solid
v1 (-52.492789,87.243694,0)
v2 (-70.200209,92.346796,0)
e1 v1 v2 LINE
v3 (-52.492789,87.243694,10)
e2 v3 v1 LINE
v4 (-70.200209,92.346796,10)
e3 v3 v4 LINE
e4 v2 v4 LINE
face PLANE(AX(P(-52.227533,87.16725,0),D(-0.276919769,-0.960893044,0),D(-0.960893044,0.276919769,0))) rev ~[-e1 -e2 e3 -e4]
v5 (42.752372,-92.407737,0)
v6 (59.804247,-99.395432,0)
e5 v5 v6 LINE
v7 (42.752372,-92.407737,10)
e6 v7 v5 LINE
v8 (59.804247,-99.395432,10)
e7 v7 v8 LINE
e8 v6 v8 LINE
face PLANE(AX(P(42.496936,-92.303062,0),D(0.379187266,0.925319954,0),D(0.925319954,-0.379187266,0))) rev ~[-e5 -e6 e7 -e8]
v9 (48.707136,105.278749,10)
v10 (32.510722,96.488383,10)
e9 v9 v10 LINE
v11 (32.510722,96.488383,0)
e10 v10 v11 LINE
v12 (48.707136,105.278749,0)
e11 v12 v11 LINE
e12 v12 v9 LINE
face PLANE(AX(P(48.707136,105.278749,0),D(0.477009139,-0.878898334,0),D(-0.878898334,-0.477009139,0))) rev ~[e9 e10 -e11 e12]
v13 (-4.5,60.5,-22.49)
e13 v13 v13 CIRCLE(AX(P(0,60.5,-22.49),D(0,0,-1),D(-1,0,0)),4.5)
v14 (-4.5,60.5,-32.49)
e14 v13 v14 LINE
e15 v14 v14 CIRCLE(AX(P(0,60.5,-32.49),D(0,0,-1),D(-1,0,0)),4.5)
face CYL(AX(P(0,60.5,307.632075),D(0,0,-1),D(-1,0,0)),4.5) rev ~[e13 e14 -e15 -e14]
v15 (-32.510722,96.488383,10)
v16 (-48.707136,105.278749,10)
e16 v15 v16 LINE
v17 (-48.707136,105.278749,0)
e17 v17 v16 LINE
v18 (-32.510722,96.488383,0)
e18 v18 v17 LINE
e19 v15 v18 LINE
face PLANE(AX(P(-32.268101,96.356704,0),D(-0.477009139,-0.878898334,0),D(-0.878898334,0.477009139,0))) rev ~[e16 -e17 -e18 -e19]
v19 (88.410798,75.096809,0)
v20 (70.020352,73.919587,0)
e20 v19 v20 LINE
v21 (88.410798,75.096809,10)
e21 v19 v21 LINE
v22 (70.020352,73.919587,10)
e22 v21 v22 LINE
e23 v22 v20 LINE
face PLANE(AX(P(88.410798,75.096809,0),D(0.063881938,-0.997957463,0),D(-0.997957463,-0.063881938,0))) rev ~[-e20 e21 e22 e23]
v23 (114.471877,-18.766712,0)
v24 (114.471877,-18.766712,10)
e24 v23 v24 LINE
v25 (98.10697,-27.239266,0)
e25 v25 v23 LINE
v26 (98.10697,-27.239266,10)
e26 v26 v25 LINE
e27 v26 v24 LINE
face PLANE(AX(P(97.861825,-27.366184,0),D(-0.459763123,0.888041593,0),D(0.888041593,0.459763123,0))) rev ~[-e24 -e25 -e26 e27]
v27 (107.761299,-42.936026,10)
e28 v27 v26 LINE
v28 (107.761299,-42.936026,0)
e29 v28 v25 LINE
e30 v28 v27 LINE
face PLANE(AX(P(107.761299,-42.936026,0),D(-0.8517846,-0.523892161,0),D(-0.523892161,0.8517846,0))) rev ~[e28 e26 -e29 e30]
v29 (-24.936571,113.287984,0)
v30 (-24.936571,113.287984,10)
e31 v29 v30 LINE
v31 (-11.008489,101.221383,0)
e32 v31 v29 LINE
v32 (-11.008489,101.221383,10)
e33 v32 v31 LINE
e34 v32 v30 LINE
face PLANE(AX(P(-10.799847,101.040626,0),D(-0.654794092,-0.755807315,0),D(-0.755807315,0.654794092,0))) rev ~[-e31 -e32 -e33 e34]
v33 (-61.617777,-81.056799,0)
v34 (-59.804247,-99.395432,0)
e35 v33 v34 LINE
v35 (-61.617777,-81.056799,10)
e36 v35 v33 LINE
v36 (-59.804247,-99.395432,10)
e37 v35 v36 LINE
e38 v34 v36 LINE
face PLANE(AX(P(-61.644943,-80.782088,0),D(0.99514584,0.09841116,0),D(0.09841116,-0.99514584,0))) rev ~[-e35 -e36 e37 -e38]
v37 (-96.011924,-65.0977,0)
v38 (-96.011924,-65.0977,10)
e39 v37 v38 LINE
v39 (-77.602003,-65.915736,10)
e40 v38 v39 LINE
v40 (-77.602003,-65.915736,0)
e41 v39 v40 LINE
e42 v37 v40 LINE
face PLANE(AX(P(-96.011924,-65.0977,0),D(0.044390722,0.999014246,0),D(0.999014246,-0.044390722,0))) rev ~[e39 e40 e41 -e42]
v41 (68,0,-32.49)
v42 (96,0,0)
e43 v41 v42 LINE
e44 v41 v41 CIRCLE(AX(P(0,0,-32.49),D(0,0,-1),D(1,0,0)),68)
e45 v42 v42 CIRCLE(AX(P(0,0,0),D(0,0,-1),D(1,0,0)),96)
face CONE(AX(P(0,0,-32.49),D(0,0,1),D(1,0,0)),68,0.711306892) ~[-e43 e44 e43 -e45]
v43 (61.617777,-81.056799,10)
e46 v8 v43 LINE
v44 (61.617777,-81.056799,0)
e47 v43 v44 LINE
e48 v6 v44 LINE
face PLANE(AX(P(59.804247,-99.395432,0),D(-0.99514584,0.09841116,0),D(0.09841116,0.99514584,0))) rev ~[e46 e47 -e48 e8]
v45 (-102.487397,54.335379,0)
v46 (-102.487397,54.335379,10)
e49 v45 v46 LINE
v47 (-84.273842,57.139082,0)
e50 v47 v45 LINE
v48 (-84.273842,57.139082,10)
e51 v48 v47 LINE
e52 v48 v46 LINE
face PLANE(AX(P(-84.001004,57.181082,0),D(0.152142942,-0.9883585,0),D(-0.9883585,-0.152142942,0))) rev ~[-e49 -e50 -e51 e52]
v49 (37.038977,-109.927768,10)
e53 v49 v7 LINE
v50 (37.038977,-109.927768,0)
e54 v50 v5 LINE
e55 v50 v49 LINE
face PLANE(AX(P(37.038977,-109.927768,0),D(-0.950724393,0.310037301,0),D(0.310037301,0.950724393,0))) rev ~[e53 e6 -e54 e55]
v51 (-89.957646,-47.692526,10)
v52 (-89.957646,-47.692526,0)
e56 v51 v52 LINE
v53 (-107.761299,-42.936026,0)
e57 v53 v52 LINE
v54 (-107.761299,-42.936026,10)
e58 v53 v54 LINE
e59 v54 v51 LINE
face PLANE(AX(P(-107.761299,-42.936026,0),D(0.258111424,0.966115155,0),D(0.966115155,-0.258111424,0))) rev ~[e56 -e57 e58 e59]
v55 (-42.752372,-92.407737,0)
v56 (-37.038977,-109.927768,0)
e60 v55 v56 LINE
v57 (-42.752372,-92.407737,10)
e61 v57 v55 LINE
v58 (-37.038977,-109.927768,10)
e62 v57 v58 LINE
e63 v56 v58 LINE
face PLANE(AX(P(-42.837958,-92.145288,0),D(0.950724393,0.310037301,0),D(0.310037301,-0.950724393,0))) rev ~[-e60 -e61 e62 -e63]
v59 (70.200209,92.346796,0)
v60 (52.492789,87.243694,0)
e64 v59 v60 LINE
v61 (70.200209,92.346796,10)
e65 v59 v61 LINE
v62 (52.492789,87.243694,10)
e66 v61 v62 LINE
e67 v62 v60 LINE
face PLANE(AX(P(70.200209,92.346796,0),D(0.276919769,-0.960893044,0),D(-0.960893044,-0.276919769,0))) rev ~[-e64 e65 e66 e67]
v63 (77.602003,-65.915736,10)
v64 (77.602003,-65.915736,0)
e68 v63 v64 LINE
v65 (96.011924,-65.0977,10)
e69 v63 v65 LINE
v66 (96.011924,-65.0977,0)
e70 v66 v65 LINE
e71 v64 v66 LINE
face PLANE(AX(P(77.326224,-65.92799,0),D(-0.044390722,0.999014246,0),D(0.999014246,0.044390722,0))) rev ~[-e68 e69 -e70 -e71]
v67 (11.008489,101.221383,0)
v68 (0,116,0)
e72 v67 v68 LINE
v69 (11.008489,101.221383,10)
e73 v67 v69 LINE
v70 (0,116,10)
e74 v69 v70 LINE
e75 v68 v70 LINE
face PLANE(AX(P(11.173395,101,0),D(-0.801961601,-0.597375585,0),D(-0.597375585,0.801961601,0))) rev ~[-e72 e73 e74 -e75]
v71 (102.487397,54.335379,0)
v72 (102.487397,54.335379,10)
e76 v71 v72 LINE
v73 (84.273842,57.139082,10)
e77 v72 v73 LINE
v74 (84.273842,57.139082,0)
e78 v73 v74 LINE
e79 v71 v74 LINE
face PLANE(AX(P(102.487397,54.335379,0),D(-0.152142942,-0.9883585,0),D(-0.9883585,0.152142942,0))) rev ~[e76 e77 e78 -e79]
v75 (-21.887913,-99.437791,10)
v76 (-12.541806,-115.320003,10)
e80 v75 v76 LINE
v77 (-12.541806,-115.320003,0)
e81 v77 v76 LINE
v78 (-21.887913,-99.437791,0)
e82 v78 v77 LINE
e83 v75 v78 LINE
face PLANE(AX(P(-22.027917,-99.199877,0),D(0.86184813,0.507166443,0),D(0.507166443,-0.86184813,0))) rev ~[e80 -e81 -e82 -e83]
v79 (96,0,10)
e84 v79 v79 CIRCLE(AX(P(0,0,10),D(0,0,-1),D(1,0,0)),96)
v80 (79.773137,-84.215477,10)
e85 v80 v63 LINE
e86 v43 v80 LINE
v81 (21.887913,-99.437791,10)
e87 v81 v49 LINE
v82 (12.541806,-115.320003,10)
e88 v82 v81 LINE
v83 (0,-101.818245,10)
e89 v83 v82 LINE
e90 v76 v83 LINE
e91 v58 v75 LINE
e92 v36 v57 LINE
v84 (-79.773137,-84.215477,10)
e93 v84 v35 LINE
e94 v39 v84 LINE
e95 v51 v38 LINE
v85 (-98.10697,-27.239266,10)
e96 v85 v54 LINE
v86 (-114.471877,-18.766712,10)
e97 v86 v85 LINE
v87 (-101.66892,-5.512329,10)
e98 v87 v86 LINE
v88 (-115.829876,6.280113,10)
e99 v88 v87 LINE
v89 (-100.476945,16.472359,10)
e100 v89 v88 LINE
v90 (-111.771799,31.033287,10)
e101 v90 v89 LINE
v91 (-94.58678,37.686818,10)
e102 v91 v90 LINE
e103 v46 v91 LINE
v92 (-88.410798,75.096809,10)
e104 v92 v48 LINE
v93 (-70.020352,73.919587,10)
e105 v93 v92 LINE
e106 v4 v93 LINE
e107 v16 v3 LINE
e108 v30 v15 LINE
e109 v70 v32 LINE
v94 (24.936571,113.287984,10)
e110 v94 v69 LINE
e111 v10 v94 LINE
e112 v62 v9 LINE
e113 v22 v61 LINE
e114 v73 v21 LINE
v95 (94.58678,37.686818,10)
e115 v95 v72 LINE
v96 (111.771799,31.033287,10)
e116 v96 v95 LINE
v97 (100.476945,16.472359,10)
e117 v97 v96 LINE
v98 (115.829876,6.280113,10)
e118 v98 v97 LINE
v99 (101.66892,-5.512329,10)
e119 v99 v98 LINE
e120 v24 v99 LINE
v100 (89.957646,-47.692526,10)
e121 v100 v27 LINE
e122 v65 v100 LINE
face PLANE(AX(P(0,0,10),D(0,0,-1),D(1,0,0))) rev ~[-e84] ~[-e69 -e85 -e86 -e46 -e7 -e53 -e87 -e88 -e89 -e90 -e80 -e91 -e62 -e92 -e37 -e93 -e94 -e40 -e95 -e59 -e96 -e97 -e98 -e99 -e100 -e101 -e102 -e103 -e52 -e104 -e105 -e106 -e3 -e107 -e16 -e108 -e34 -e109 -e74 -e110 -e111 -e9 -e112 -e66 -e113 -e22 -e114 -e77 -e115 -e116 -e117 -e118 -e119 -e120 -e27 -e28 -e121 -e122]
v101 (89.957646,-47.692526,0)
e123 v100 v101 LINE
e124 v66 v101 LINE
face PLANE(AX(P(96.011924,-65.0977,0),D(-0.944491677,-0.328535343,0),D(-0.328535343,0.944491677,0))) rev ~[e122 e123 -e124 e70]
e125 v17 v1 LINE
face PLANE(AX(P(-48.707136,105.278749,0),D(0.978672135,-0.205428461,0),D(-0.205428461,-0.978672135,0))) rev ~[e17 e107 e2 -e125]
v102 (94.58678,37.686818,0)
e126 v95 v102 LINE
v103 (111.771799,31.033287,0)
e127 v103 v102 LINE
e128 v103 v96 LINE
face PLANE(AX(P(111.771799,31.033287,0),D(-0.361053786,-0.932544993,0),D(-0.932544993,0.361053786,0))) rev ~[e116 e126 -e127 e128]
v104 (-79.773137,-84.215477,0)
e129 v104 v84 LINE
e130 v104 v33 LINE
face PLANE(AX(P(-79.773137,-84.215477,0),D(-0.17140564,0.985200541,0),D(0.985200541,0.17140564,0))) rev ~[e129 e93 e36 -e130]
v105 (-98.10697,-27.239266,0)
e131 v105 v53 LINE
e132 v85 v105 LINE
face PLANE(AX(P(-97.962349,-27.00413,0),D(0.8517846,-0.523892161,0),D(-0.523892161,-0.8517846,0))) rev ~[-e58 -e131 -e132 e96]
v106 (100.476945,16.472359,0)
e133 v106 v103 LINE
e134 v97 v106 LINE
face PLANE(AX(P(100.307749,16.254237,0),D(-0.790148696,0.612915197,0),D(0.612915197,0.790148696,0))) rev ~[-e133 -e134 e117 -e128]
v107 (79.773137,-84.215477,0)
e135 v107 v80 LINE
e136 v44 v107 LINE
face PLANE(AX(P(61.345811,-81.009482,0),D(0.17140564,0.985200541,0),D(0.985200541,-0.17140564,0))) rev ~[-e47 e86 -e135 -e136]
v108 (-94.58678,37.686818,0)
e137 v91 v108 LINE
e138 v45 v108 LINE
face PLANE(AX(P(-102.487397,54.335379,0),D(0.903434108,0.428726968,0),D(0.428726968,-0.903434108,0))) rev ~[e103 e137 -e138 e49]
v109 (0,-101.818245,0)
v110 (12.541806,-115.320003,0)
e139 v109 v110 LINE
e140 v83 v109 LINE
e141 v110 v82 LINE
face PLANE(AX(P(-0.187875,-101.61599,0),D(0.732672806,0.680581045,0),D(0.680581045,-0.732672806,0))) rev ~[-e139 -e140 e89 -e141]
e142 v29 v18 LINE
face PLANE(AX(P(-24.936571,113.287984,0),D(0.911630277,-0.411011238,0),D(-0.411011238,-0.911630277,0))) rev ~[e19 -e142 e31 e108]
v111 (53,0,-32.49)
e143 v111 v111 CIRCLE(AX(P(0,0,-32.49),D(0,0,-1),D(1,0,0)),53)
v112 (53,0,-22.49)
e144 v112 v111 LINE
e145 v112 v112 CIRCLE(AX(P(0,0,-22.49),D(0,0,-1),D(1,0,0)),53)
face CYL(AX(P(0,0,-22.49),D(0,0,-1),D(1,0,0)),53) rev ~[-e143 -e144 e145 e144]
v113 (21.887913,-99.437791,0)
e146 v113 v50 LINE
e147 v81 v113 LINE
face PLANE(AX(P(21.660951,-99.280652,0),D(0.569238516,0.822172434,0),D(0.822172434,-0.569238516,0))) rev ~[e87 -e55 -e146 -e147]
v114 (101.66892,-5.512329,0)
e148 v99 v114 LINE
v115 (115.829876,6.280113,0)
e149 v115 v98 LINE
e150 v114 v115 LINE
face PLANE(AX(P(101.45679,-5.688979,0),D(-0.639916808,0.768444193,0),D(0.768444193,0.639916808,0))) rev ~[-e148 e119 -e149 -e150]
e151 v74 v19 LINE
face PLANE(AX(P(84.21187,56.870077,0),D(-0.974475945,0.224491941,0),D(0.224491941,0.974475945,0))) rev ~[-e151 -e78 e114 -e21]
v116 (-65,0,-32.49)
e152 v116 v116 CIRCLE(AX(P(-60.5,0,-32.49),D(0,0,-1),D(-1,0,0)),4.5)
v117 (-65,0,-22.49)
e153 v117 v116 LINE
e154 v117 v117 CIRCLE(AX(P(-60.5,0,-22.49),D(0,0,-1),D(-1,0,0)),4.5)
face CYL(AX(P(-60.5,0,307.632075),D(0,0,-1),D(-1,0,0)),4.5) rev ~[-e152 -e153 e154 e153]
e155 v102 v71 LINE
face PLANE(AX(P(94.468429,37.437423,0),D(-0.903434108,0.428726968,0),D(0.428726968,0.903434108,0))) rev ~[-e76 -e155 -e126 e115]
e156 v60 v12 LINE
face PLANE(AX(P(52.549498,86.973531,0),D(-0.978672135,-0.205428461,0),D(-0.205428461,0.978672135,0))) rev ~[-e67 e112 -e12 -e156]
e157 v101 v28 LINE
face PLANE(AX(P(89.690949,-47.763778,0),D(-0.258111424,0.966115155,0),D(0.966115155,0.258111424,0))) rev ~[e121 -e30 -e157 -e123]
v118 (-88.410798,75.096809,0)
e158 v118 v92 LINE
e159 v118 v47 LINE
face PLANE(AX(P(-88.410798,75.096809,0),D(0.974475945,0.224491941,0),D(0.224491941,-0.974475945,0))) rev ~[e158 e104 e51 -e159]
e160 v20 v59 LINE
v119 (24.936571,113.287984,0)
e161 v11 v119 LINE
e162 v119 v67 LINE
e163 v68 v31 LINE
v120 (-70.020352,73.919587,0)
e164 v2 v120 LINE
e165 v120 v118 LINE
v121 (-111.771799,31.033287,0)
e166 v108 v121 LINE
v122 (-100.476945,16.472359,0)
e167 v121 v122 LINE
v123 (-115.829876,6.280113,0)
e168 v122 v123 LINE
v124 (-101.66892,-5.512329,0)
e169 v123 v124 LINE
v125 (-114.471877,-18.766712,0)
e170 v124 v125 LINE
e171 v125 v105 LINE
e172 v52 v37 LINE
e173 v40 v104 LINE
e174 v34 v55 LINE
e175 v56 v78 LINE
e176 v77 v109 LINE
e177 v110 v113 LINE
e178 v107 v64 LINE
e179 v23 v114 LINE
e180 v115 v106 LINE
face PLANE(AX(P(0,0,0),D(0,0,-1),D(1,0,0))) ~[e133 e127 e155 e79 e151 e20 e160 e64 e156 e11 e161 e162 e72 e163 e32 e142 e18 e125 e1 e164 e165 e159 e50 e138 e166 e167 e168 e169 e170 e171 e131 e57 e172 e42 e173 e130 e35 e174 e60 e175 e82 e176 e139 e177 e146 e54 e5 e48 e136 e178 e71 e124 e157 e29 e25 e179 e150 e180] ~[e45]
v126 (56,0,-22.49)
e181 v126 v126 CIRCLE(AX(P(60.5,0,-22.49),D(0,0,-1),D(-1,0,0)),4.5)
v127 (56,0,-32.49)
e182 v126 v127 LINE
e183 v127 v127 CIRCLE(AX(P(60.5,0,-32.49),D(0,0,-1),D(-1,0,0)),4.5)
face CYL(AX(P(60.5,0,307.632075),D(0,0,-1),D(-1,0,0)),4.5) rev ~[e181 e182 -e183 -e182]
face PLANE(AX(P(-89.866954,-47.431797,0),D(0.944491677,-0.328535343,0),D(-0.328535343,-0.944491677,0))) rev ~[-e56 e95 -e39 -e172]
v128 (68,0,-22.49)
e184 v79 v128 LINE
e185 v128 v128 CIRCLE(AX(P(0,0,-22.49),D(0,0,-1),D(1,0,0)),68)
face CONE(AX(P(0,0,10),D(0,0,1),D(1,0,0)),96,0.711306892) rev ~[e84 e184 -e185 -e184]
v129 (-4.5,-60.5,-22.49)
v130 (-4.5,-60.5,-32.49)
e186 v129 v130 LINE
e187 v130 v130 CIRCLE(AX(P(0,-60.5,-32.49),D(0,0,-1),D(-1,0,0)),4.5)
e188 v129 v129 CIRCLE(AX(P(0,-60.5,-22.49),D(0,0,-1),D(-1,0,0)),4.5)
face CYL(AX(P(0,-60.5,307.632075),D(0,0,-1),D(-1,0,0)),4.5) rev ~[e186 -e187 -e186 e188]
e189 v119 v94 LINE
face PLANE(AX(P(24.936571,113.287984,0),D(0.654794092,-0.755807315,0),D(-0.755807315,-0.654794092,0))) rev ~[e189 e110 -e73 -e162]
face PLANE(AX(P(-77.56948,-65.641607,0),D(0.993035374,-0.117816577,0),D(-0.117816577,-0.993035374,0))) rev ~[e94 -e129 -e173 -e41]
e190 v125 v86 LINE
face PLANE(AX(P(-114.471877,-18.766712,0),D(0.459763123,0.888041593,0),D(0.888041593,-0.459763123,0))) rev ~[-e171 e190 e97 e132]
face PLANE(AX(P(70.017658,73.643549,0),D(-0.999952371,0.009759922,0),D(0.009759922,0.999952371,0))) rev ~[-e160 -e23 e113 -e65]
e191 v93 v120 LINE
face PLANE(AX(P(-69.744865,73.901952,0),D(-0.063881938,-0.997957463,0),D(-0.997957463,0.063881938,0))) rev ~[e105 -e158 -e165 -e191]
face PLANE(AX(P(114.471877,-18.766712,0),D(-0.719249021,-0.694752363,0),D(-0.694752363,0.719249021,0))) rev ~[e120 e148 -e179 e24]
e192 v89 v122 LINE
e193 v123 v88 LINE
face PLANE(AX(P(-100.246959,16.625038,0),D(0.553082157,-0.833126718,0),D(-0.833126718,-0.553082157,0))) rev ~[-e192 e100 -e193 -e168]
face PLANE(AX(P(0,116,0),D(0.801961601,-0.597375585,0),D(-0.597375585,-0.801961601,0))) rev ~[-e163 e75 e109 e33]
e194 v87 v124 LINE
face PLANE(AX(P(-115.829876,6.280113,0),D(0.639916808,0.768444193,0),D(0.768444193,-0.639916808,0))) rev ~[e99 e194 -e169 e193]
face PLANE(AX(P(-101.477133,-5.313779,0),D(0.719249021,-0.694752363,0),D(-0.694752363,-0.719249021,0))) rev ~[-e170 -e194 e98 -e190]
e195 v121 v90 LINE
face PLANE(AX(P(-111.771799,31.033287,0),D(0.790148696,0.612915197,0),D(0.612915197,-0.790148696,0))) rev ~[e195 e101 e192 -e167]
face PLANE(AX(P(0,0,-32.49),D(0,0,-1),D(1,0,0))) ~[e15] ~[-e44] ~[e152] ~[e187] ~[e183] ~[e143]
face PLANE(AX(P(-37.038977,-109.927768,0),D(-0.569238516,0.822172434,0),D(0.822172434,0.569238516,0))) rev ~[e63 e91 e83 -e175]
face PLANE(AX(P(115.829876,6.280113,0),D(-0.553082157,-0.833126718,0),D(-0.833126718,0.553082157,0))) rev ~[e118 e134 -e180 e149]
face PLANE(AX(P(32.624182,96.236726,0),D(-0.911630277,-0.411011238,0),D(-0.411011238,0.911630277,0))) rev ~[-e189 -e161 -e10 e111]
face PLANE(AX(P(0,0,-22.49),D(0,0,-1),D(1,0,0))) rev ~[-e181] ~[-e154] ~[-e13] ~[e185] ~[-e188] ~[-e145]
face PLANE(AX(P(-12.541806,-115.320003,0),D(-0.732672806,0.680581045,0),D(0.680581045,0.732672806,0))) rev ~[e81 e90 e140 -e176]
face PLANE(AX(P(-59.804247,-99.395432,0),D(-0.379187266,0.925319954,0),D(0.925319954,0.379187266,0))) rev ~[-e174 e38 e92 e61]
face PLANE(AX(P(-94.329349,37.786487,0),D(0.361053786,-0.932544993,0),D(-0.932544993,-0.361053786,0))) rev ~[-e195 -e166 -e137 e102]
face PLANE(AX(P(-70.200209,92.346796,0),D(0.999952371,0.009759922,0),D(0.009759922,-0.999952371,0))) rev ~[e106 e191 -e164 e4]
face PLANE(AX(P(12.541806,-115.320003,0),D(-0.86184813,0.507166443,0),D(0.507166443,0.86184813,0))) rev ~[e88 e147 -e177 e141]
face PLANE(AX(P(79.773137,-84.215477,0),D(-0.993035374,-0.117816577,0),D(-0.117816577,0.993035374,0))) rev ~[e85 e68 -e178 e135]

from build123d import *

# Parameters (mm, degrees)
BOSS_EXTRU_1_DEPTH           = 10
R_P_TITION_CIRCULAIRE1_COUNT = 29
ESQUISSE3_R                  = 100
ENL_V_MAT_EXTRU_1_DEPTH      = 165.2332493
D_GAGEMENT_M81_D             = 9


with BuildPart() as part:
    # Esquisse1 → Boss.-Extru.1 (new body)
    with BuildSketch(Plane.XY):
        Polygon((-11.173395042, 101), (0, 0), (11.173395042, 101), (0, 116), align=None)
    extrude(amount=BOSS_EXTRU_1_DEPTH)


with BuildPart() as r_p_tition_circulaire1_1:
    # Répétition circulaire1: pattern copy
    add(part.part.rotate(Axis((0, 0, 0), (0, 0, 1)), 1 * 360 / R_P_TITION_CIRCULAIRE1_COUNT))


with BuildPart() as r_p_tition_circulaire1_2:
    # Répétition circulaire1: pattern copy
    add(part.part.rotate(Axis((0, 0, 0), (0, 0, 1)), 2 * 360 / R_P_TITION_CIRCULAIRE1_COUNT))


with BuildPart() as r_p_tition_circulaire1_3:
    # Répétition circulaire1: pattern copy
    add(part.part.rotate(Axis((0, 0, 0), (0, 0, 1)), 3 * 360 / R_P_TITION_CIRCULAIRE1_COUNT))


with BuildPart() as r_p_tition_circulaire1_4:
    # Répétition circulaire1: pattern copy
    add(part.part.rotate(Axis((0, 0, 0), (0, 0, 1)), 4 * 360 / R_P_TITION_CIRCULAIRE1_COUNT))


with BuildPart() as r_p_tition_circulaire1_5:
    # Répétition circulaire1: pattern copy
    add(part.part.rotate(Axis((0, 0, 0), (0, 0, 1)), 5 * 360 / R_P_TITION_CIRCULAIRE1_COUNT))


with BuildPart() as r_p_tition_circulaire1_6:
    # Répétition circulaire1: pattern copy
    add(part.part.rotate(Axis((0, 0, 0), (0, 0, 1)), 6 * 360 / R_P_TITION_CIRCULAIRE1_COUNT))


with BuildPart() as r_p_tition_circulaire1_7:
    # Répétition circulaire1: pattern copy
    add(part.part.rotate(Axis((0, 0, 0), (0, 0, 1)), 7 * 360 / R_P_TITION_CIRCULAIRE1_COUNT))


with BuildPart() as r_p_tition_circulaire1_8:
    # Répétition circulaire1: pattern copy
    add(part.part.rotate(Axis((0, 0, 0), (0, 0, 1)), 8 * 360 / R_P_TITION_CIRCULAIRE1_COUNT))


with BuildPart() as r_p_tition_circulaire1_9:
    # Répétition circulaire1: pattern copy
    add(part.part.rotate(Axis((0, 0, 0), (0, 0, 1)), 9 * 360 / R_P_TITION_CIRCULAIRE1_COUNT))


with BuildPart() as r_p_tition_circulaire1_10:
    # Répétition circulaire1: pattern copy
    add(part.part.rotate(Axis((0, 0, 0), (0, 0, 1)), 10 * 360 / R_P_TITION_CIRCULAIRE1_COUNT))


with BuildPart() as r_p_tition_circulaire1_11:
    # Répétition circulaire1: pattern copy
    add(part.part.rotate(Axis((0, 0, 0), (0, 0, 1)), 11 * 360 / R_P_TITION_CIRCULAIRE1_COUNT))


with BuildPart() as r_p_tition_circulaire1_12:
    # Répétition circulaire1: pattern copy
    add(part.part.rotate(Axis((0, 0, 0), (0, 0, 1)), 12 * 360 / R_P_TITION_CIRCULAIRE1_COUNT))


with BuildPart() as r_p_tition_circulaire1_13:
    # Répétition circulaire1: pattern copy
    add(part.part.rotate(Axis((0, 0, 0), (0, 0, 1)), 13 * 360 / R_P_TITION_CIRCULAIRE1_COUNT))


with BuildPart() as r_p_tition_circulaire1_14:
    # Répétition circulaire1: pattern copy
    add(part.part.rotate(Axis((0, 0, 0), (0, 0, 1)), 14 * 360 / R_P_TITION_CIRCULAIRE1_COUNT))


with BuildPart() as r_p_tition_circulaire1_15:
    # Répétition circulaire1: pattern copy
    add(part.part.rotate(Axis((0, 0, 0), (0, 0, 1)), 15 * 360 / R_P_TITION_CIRCULAIRE1_COUNT))


with BuildPart() as r_p_tition_circulaire1_16:
    # Répétition circulaire1: pattern copy
    add(part.part.rotate(Axis((0, 0, 0), (0, 0, 1)), 16 * 360 / R_P_TITION_CIRCULAIRE1_COUNT))


with BuildPart() as r_p_tition_circulaire1_17:
    # Répétition circulaire1: pattern copy
    add(part.part.rotate(Axis((0, 0, 0), (0, 0, 1)), 17 * 360 / R_P_TITION_CIRCULAIRE1_COUNT))


with BuildPart() as r_p_tition_circulaire1_18:
    # Répétition circulaire1: pattern copy
    add(part.part.rotate(Axis((0, 0, 0), (0, 0, 1)), 18 * 360 / R_P_TITION_CIRCULAIRE1_COUNT))


with BuildPart() as r_p_tition_circulaire1_19:
    # Répétition circulaire1: pattern copy
    add(part.part.rotate(Axis((0, 0, 0), (0, 0, 1)), 19 * 360 / R_P_TITION_CIRCULAIRE1_COUNT))


with BuildPart() as r_p_tition_circulaire1_20:
    # Répétition circulaire1: pattern copy
    add(part.part.rotate(Axis((0, 0, 0), (0, 0, 1)), 20 * 360 / R_P_TITION_CIRCULAIRE1_COUNT))


with BuildPart() as r_p_tition_circulaire1_21:
    # Répétition circulaire1: pattern copy
    add(part.part.rotate(Axis((0, 0, 0), (0, 0, 1)), 21 * 360 / R_P_TITION_CIRCULAIRE1_COUNT))


with BuildPart() as r_p_tition_circulaire1_22:
    # Répétition circulaire1: pattern copy
    add(part.part.rotate(Axis((0, 0, 0), (0, 0, 1)), 22 * 360 / R_P_TITION_CIRCULAIRE1_COUNT))


with BuildPart() as r_p_tition_circulaire1_23:
    # Répétition circulaire1: pattern copy
    add(part.part.rotate(Axis((0, 0, 0), (0, 0, 1)), 23 * 360 / R_P_TITION_CIRCULAIRE1_COUNT))


with BuildPart() as r_p_tition_circulaire1_24:
    # Répétition circulaire1: pattern copy
    add(part.part.rotate(Axis((0, 0, 0), (0, 0, 1)), 24 * 360 / R_P_TITION_CIRCULAIRE1_COUNT))


with BuildPart() as r_p_tition_circulaire1_25:
    # Répétition circulaire1: pattern copy
    add(part.part.rotate(Axis((0, 0, 0), (0, 0, 1)), 25 * 360 / R_P_TITION_CIRCULAIRE1_COUNT))


with BuildPart() as r_p_tition_circulaire1_26:
    # Répétition circulaire1: pattern copy
    add(part.part.rotate(Axis((0, 0, 0), (0, 0, 1)), 26 * 360 / R_P_TITION_CIRCULAIRE1_COUNT))


with BuildPart() as r_p_tition_circulaire1_27:
    # Répétition circulaire1: pattern copy
    add(part.part.rotate(Axis((0, 0, 0), (0, 0, 1)), 27 * 360 / R_P_TITION_CIRCULAIRE1_COUNT))


with BuildPart() as r_p_tition_circulaire1_28:
    # Répétition circulaire1: pattern copy
    add(part.part.rotate(Axis((0, 0, 0), (0, 0, 1)), 28 * 360 / R_P_TITION_CIRCULAIRE1_COUNT))


with BuildPart() as enl_v_mat_extru_1_tool:
    # Esquisse3 → Enlèv. mat.-Extru.1 (new, through all)
    with BuildSketch(Plane.XY):
        Circle(ESQUISSE3_R)
    extrude(amount=ENL_V_MAT_EXTRU_1_DEPTH)


with BuildPart() as part_1:
    add(part.part)

    # Enlèv. mat.-Extru.1: cut by enl_v_mat_extru_1_tool
    add(enl_v_mat_extru_1_tool.part, mode=Mode.SUBTRACT)



with BuildPart() as r_p_tition_circulaire1_1_1:
    add(r_p_tition_circulaire1_1.part)

    # Enlèv. mat.-Extru.1: cut by enl_v_mat_extru_1_tool
    add(enl_v_mat_extru_1_tool.part, mode=Mode.SUBTRACT)


with BuildPart() as r_p_tition_circulaire1_2_1:
    add(r_p_tition_circulaire1_2.part)

    # Enlèv. mat.-Extru.1: cut by enl_v_mat_extru_1_tool
    add(enl_v_mat_extru_1_tool.part, mode=Mode.SUBTRACT)


with BuildPart() as r_p_tition_circulaire1_3_1:
    add(r_p_tition_circulaire1_3.part)

    # Enlèv. mat.-Extru.1: cut by enl_v_mat_extru_1_tool
    add(enl_v_mat_extru_1_tool.part, mode=Mode.SUBTRACT)


with BuildPart() as r_p_tition_circulaire1_4_1:
    add(r_p_tition_circulaire1_4.part)

    # Enlèv. mat.-Extru.1: cut by enl_v_mat_extru_1_tool
    add(enl_v_mat_extru_1_tool.part, mode=Mode.SUBTRACT)


with BuildPart() as r_p_tition_circulaire1_5_1:
    add(r_p_tition_circulaire1_5.part)

    # Enlèv. mat.-Extru.1: cut by enl_v_mat_extru_1_tool
    add(enl_v_mat_extru_1_tool.part, mode=Mode.SUBTRACT)


with BuildPart() as r_p_tition_circulaire1_6_1:
    add(r_p_tition_circulaire1_6.part)

    # Enlèv. mat.-Extru.1: cut by enl_v_mat_extru_1_tool
    add(enl_v_mat_extru_1_tool.part, mode=Mode.SUBTRACT)


with BuildPart() as r_p_tition_circulaire1_7_1:
    add(r_p_tition_circulaire1_7.part)

    # Enlèv. mat.-Extru.1: cut by enl_v_mat_extru_1_tool
    add(enl_v_mat_extru_1_tool.part, mode=Mode.SUBTRACT)


with BuildPart() as r_p_tition_circulaire1_8_1:
    add(r_p_tition_circulaire1_8.part)

    # Enlèv. mat.-Extru.1: cut by enl_v_mat_extru_1_tool
    add(enl_v_mat_extru_1_tool.part, mode=Mode.SUBTRACT)


with BuildPart() as r_p_tition_circulaire1_9_1:
    add(r_p_tition_circulaire1_9.part)

    # Enlèv. mat.-Extru.1: cut by enl_v_mat_extru_1_tool
    add(enl_v_mat_extru_1_tool.part, mode=Mode.SUBTRACT)


with BuildPart() as r_p_tition_circulaire1_10_1:
    add(r_p_tition_circulaire1_10.part)

    # Enlèv. mat.-Extru.1: cut by enl_v_mat_extru_1_tool
    add(enl_v_mat_extru_1_tool.part, mode=Mode.SUBTRACT)


with BuildPart() as r_p_tition_circulaire1_11_1:
    add(r_p_tition_circulaire1_11.part)

    # Enlèv. mat.-Extru.1: cut by enl_v_mat_extru_1_tool
    add(enl_v_mat_extru_1_tool.part, mode=Mode.SUBTRACT)


with BuildPart() as r_p_tition_circulaire1_12_1:
    add(r_p_tition_circulaire1_12.part)

    # Enlèv. mat.-Extru.1: cut by enl_v_mat_extru_1_tool
    add(enl_v_mat_extru_1_tool.part, mode=Mode.SUBTRACT)


with BuildPart() as r_p_tition_circulaire1_13_1:
    add(r_p_tition_circulaire1_13.part)

    # Enlèv. mat.-Extru.1: cut by enl_v_mat_extru_1_tool
    add(enl_v_mat_extru_1_tool.part, mode=Mode.SUBTRACT)


with BuildPart() as r_p_tition_circulaire1_14_1:
    add(r_p_tition_circulaire1_14.part)

    # Enlèv. mat.-Extru.1: cut by enl_v_mat_extru_1_tool
    add(enl_v_mat_extru_1_tool.part, mode=Mode.SUBTRACT)


with BuildPart() as r_p_tition_circulaire1_15_1:
    add(r_p_tition_circulaire1_15.part)

    # Enlèv. mat.-Extru.1: cut by enl_v_mat_extru_1_tool
    add(enl_v_mat_extru_1_tool.part, mode=Mode.SUBTRACT)


with BuildPart() as r_p_tition_circulaire1_16_1:
    add(r_p_tition_circulaire1_16.part)

    # Enlèv. mat.-Extru.1: cut by enl_v_mat_extru_1_tool
    add(enl_v_mat_extru_1_tool.part, mode=Mode.SUBTRACT)


with BuildPart() as r_p_tition_circulaire1_17_1:
    add(r_p_tition_circulaire1_17.part)

    # Enlèv. mat.-Extru.1: cut by enl_v_mat_extru_1_tool
    add(enl_v_mat_extru_1_tool.part, mode=Mode.SUBTRACT)


with BuildPart() as r_p_tition_circulaire1_18_1:
    add(r_p_tition_circulaire1_18.part)

    # Enlèv. mat.-Extru.1: cut by enl_v_mat_extru_1_tool
    add(enl_v_mat_extru_1_tool.part, mode=Mode.SUBTRACT)


with BuildPart() as r_p_tition_circulaire1_19_1:
    add(r_p_tition_circulaire1_19.part)

    # Enlèv. mat.-Extru.1: cut by enl_v_mat_extru_1_tool
    add(enl_v_mat_extru_1_tool.part, mode=Mode.SUBTRACT)


with BuildPart() as r_p_tition_circulaire1_20_1:
    add(r_p_tition_circulaire1_20.part)

    # Enlèv. mat.-Extru.1: cut by enl_v_mat_extru_1_tool
    add(enl_v_mat_extru_1_tool.part, mode=Mode.SUBTRACT)


with BuildPart() as r_p_tition_circulaire1_21_1:
    add(r_p_tition_circulaire1_21.part)

    # Enlèv. mat.-Extru.1: cut by enl_v_mat_extru_1_tool
    add(enl_v_mat_extru_1_tool.part, mode=Mode.SUBTRACT)


with BuildPart() as r_p_tition_circulaire1_22_1:
    add(r_p_tition_circulaire1_22.part)

    # Enlèv. mat.-Extru.1: cut by enl_v_mat_extru_1_tool
    add(enl_v_mat_extru_1_tool.part, mode=Mode.SUBTRACT)


with BuildPart() as r_p_tition_circulaire1_23_1:
    add(r_p_tition_circulaire1_23.part)

    # Enlèv. mat.-Extru.1: cut by enl_v_mat_extru_1_tool
    add(enl_v_mat_extru_1_tool.part, mode=Mode.SUBTRACT)


with BuildPart() as r_p_tition_circulaire1_24_1:
    add(r_p_tition_circulaire1_24.part)

    # Enlèv. mat.-Extru.1: cut by enl_v_mat_extru_1_tool
    add(enl_v_mat_extru_1_tool.part, mode=Mode.SUBTRACT)


with BuildPart() as r_p_tition_circulaire1_25_1:
    add(r_p_tition_circulaire1_25.part)

    # Enlèv. mat.-Extru.1: cut by enl_v_mat_extru_1_tool
    add(enl_v_mat_extru_1_tool.part, mode=Mode.SUBTRACT)


with BuildPart() as r_p_tition_circulaire1_26_1:
    add(r_p_tition_circulaire1_26.part)

    # Enlèv. mat.-Extru.1: cut by enl_v_mat_extru_1_tool
    add(enl_v_mat_extru_1_tool.part, mode=Mode.SUBTRACT)


with BuildPart() as r_p_tition_circulaire1_27_1:
    add(r_p_tition_circulaire1_27.part)

    # Enlèv. mat.-Extru.1: cut by enl_v_mat_extru_1_tool
    add(enl_v_mat_extru_1_tool.part, mode=Mode.SUBTRACT)


with BuildPart() as r_p_tition_circulaire1_28_1:
    add(r_p_tition_circulaire1_28.part)

    # Enlèv. mat.-Extru.1: cut by enl_v_mat_extru_1_tool
    add(enl_v_mat_extru_1_tool.part, mode=Mode.SUBTRACT)


with BuildPart() as part_2:
    add(part_1.part)

    add(r_p_tition_circulaire1_1_1.part)  # Révolution1 merges Répétition circulaire1_1

    add(r_p_tition_circulaire1_2_1.part)  # Révolution1 merges Répétition circulaire1_2

    add(r_p_tition_circulaire1_3_1.part)  # Révolution1 merges Répétition circulaire1_3

    add(r_p_tition_circulaire1_4_1.part)  # Révolution1 merges Répétition circulaire1_4

    add(r_p_tition_circulaire1_5_1.part)  # Révolution1 merges Répétition circulaire1_5

    add(r_p_tition_circulaire1_6_1.part)  # Révolution1 merges Répétition circulaire1_6

    add(r_p_tition_circulaire1_7_1.part)  # Révolution1 merges Répétition circulaire1_7

    add(r_p_tition_circulaire1_8_1.part)  # Révolution1 merges Répétition circulaire1_8

    add(r_p_tition_circulaire1_9_1.part)  # Révolution1 merges Répétition circulaire1_9

    add(r_p_tition_circulaire1_10_1.part)  # Révolution1 merges Répétition circulaire1_10

    add(r_p_tition_circulaire1_11_1.part)  # Révolution1 merges Répétition circulaire1_11

    add(r_p_tition_circulaire1_12_1.part)  # Révolution1 merges Répétition circulaire1_12

    add(r_p_tition_circulaire1_13_1.part)  # Révolution1 merges Répétition circulaire1_13

    add(r_p_tition_circulaire1_14_1.part)  # Révolution1 merges Répétition circulaire1_14

    add(r_p_tition_circulaire1_15_1.part)  # Révolution1 merges Répétition circulaire1_15

    add(r_p_tition_circulaire1_16_1.part)  # Révolution1 merges Répétition circulaire1_16

    add(r_p_tition_circulaire1_17_1.part)  # Révolution1 merges Répétition circulaire1_17

    add(r_p_tition_circulaire1_18_1.part)  # Révolution1 merges Répétition circulaire1_18

    add(r_p_tition_circulaire1_19_1.part)  # Révolution1 merges Répétition circulaire1_19

    add(r_p_tition_circulaire1_20_1.part)  # Révolution1 merges Répétition circulaire1_20

    add(r_p_tition_circulaire1_21_1.part)  # Révolution1 merges Répétition circulaire1_21

    add(r_p_tition_circulaire1_22_1.part)  # Révolution1 merges Répétition circulaire1_22

    add(r_p_tition_circulaire1_23_1.part)  # Révolution1 merges Répétition circulaire1_23

    add(r_p_tition_circulaire1_24_1.part)  # Révolution1 merges Répétition circulaire1_24

    add(r_p_tition_circulaire1_25_1.part)  # Révolution1 merges Répétition circulaire1_25

    add(r_p_tition_circulaire1_26_1.part)  # Révolution1 merges Répétition circulaire1_26

    add(r_p_tition_circulaire1_27_1.part)  # Révolution1 merges Répétition circulaire1_27

    add(r_p_tition_circulaire1_28_1.part)  # Révolution1 merges Répétition circulaire1_28
    # Esquisse4 → Révolution1 (revolve)
    with BuildSketch(Plane(origin=(0, 0, 0), x_dir=(0, 0, -1), z_dir=(1, 0, 0)), mode=Mode.PRIVATE) as r_volution1_sk:
        Polygon((22.49, 53), (32.49, 53), (32.49, 68), (0, 96), (0, 101), (-10, 101), (-10, 96), (22.49, 68), align=None)
    revolve(r_volution1_sk.sketch.rotate(Axis((0, 0, 61.073575306), (0, 0, -1)), 90), axis=Axis((0, 0, 61.073575306), (0, 0, -1)))

    # Dégagement M81 (through all)
    with Locations(Plane.XY.offset(-22.49)):
        with Locations((0, 60.5), (60.5, 0), (0, -60.5), (-60.5, 0)):
            Hole(D_GAGEMENT_M81_D / 2)


solid = part_2.part
